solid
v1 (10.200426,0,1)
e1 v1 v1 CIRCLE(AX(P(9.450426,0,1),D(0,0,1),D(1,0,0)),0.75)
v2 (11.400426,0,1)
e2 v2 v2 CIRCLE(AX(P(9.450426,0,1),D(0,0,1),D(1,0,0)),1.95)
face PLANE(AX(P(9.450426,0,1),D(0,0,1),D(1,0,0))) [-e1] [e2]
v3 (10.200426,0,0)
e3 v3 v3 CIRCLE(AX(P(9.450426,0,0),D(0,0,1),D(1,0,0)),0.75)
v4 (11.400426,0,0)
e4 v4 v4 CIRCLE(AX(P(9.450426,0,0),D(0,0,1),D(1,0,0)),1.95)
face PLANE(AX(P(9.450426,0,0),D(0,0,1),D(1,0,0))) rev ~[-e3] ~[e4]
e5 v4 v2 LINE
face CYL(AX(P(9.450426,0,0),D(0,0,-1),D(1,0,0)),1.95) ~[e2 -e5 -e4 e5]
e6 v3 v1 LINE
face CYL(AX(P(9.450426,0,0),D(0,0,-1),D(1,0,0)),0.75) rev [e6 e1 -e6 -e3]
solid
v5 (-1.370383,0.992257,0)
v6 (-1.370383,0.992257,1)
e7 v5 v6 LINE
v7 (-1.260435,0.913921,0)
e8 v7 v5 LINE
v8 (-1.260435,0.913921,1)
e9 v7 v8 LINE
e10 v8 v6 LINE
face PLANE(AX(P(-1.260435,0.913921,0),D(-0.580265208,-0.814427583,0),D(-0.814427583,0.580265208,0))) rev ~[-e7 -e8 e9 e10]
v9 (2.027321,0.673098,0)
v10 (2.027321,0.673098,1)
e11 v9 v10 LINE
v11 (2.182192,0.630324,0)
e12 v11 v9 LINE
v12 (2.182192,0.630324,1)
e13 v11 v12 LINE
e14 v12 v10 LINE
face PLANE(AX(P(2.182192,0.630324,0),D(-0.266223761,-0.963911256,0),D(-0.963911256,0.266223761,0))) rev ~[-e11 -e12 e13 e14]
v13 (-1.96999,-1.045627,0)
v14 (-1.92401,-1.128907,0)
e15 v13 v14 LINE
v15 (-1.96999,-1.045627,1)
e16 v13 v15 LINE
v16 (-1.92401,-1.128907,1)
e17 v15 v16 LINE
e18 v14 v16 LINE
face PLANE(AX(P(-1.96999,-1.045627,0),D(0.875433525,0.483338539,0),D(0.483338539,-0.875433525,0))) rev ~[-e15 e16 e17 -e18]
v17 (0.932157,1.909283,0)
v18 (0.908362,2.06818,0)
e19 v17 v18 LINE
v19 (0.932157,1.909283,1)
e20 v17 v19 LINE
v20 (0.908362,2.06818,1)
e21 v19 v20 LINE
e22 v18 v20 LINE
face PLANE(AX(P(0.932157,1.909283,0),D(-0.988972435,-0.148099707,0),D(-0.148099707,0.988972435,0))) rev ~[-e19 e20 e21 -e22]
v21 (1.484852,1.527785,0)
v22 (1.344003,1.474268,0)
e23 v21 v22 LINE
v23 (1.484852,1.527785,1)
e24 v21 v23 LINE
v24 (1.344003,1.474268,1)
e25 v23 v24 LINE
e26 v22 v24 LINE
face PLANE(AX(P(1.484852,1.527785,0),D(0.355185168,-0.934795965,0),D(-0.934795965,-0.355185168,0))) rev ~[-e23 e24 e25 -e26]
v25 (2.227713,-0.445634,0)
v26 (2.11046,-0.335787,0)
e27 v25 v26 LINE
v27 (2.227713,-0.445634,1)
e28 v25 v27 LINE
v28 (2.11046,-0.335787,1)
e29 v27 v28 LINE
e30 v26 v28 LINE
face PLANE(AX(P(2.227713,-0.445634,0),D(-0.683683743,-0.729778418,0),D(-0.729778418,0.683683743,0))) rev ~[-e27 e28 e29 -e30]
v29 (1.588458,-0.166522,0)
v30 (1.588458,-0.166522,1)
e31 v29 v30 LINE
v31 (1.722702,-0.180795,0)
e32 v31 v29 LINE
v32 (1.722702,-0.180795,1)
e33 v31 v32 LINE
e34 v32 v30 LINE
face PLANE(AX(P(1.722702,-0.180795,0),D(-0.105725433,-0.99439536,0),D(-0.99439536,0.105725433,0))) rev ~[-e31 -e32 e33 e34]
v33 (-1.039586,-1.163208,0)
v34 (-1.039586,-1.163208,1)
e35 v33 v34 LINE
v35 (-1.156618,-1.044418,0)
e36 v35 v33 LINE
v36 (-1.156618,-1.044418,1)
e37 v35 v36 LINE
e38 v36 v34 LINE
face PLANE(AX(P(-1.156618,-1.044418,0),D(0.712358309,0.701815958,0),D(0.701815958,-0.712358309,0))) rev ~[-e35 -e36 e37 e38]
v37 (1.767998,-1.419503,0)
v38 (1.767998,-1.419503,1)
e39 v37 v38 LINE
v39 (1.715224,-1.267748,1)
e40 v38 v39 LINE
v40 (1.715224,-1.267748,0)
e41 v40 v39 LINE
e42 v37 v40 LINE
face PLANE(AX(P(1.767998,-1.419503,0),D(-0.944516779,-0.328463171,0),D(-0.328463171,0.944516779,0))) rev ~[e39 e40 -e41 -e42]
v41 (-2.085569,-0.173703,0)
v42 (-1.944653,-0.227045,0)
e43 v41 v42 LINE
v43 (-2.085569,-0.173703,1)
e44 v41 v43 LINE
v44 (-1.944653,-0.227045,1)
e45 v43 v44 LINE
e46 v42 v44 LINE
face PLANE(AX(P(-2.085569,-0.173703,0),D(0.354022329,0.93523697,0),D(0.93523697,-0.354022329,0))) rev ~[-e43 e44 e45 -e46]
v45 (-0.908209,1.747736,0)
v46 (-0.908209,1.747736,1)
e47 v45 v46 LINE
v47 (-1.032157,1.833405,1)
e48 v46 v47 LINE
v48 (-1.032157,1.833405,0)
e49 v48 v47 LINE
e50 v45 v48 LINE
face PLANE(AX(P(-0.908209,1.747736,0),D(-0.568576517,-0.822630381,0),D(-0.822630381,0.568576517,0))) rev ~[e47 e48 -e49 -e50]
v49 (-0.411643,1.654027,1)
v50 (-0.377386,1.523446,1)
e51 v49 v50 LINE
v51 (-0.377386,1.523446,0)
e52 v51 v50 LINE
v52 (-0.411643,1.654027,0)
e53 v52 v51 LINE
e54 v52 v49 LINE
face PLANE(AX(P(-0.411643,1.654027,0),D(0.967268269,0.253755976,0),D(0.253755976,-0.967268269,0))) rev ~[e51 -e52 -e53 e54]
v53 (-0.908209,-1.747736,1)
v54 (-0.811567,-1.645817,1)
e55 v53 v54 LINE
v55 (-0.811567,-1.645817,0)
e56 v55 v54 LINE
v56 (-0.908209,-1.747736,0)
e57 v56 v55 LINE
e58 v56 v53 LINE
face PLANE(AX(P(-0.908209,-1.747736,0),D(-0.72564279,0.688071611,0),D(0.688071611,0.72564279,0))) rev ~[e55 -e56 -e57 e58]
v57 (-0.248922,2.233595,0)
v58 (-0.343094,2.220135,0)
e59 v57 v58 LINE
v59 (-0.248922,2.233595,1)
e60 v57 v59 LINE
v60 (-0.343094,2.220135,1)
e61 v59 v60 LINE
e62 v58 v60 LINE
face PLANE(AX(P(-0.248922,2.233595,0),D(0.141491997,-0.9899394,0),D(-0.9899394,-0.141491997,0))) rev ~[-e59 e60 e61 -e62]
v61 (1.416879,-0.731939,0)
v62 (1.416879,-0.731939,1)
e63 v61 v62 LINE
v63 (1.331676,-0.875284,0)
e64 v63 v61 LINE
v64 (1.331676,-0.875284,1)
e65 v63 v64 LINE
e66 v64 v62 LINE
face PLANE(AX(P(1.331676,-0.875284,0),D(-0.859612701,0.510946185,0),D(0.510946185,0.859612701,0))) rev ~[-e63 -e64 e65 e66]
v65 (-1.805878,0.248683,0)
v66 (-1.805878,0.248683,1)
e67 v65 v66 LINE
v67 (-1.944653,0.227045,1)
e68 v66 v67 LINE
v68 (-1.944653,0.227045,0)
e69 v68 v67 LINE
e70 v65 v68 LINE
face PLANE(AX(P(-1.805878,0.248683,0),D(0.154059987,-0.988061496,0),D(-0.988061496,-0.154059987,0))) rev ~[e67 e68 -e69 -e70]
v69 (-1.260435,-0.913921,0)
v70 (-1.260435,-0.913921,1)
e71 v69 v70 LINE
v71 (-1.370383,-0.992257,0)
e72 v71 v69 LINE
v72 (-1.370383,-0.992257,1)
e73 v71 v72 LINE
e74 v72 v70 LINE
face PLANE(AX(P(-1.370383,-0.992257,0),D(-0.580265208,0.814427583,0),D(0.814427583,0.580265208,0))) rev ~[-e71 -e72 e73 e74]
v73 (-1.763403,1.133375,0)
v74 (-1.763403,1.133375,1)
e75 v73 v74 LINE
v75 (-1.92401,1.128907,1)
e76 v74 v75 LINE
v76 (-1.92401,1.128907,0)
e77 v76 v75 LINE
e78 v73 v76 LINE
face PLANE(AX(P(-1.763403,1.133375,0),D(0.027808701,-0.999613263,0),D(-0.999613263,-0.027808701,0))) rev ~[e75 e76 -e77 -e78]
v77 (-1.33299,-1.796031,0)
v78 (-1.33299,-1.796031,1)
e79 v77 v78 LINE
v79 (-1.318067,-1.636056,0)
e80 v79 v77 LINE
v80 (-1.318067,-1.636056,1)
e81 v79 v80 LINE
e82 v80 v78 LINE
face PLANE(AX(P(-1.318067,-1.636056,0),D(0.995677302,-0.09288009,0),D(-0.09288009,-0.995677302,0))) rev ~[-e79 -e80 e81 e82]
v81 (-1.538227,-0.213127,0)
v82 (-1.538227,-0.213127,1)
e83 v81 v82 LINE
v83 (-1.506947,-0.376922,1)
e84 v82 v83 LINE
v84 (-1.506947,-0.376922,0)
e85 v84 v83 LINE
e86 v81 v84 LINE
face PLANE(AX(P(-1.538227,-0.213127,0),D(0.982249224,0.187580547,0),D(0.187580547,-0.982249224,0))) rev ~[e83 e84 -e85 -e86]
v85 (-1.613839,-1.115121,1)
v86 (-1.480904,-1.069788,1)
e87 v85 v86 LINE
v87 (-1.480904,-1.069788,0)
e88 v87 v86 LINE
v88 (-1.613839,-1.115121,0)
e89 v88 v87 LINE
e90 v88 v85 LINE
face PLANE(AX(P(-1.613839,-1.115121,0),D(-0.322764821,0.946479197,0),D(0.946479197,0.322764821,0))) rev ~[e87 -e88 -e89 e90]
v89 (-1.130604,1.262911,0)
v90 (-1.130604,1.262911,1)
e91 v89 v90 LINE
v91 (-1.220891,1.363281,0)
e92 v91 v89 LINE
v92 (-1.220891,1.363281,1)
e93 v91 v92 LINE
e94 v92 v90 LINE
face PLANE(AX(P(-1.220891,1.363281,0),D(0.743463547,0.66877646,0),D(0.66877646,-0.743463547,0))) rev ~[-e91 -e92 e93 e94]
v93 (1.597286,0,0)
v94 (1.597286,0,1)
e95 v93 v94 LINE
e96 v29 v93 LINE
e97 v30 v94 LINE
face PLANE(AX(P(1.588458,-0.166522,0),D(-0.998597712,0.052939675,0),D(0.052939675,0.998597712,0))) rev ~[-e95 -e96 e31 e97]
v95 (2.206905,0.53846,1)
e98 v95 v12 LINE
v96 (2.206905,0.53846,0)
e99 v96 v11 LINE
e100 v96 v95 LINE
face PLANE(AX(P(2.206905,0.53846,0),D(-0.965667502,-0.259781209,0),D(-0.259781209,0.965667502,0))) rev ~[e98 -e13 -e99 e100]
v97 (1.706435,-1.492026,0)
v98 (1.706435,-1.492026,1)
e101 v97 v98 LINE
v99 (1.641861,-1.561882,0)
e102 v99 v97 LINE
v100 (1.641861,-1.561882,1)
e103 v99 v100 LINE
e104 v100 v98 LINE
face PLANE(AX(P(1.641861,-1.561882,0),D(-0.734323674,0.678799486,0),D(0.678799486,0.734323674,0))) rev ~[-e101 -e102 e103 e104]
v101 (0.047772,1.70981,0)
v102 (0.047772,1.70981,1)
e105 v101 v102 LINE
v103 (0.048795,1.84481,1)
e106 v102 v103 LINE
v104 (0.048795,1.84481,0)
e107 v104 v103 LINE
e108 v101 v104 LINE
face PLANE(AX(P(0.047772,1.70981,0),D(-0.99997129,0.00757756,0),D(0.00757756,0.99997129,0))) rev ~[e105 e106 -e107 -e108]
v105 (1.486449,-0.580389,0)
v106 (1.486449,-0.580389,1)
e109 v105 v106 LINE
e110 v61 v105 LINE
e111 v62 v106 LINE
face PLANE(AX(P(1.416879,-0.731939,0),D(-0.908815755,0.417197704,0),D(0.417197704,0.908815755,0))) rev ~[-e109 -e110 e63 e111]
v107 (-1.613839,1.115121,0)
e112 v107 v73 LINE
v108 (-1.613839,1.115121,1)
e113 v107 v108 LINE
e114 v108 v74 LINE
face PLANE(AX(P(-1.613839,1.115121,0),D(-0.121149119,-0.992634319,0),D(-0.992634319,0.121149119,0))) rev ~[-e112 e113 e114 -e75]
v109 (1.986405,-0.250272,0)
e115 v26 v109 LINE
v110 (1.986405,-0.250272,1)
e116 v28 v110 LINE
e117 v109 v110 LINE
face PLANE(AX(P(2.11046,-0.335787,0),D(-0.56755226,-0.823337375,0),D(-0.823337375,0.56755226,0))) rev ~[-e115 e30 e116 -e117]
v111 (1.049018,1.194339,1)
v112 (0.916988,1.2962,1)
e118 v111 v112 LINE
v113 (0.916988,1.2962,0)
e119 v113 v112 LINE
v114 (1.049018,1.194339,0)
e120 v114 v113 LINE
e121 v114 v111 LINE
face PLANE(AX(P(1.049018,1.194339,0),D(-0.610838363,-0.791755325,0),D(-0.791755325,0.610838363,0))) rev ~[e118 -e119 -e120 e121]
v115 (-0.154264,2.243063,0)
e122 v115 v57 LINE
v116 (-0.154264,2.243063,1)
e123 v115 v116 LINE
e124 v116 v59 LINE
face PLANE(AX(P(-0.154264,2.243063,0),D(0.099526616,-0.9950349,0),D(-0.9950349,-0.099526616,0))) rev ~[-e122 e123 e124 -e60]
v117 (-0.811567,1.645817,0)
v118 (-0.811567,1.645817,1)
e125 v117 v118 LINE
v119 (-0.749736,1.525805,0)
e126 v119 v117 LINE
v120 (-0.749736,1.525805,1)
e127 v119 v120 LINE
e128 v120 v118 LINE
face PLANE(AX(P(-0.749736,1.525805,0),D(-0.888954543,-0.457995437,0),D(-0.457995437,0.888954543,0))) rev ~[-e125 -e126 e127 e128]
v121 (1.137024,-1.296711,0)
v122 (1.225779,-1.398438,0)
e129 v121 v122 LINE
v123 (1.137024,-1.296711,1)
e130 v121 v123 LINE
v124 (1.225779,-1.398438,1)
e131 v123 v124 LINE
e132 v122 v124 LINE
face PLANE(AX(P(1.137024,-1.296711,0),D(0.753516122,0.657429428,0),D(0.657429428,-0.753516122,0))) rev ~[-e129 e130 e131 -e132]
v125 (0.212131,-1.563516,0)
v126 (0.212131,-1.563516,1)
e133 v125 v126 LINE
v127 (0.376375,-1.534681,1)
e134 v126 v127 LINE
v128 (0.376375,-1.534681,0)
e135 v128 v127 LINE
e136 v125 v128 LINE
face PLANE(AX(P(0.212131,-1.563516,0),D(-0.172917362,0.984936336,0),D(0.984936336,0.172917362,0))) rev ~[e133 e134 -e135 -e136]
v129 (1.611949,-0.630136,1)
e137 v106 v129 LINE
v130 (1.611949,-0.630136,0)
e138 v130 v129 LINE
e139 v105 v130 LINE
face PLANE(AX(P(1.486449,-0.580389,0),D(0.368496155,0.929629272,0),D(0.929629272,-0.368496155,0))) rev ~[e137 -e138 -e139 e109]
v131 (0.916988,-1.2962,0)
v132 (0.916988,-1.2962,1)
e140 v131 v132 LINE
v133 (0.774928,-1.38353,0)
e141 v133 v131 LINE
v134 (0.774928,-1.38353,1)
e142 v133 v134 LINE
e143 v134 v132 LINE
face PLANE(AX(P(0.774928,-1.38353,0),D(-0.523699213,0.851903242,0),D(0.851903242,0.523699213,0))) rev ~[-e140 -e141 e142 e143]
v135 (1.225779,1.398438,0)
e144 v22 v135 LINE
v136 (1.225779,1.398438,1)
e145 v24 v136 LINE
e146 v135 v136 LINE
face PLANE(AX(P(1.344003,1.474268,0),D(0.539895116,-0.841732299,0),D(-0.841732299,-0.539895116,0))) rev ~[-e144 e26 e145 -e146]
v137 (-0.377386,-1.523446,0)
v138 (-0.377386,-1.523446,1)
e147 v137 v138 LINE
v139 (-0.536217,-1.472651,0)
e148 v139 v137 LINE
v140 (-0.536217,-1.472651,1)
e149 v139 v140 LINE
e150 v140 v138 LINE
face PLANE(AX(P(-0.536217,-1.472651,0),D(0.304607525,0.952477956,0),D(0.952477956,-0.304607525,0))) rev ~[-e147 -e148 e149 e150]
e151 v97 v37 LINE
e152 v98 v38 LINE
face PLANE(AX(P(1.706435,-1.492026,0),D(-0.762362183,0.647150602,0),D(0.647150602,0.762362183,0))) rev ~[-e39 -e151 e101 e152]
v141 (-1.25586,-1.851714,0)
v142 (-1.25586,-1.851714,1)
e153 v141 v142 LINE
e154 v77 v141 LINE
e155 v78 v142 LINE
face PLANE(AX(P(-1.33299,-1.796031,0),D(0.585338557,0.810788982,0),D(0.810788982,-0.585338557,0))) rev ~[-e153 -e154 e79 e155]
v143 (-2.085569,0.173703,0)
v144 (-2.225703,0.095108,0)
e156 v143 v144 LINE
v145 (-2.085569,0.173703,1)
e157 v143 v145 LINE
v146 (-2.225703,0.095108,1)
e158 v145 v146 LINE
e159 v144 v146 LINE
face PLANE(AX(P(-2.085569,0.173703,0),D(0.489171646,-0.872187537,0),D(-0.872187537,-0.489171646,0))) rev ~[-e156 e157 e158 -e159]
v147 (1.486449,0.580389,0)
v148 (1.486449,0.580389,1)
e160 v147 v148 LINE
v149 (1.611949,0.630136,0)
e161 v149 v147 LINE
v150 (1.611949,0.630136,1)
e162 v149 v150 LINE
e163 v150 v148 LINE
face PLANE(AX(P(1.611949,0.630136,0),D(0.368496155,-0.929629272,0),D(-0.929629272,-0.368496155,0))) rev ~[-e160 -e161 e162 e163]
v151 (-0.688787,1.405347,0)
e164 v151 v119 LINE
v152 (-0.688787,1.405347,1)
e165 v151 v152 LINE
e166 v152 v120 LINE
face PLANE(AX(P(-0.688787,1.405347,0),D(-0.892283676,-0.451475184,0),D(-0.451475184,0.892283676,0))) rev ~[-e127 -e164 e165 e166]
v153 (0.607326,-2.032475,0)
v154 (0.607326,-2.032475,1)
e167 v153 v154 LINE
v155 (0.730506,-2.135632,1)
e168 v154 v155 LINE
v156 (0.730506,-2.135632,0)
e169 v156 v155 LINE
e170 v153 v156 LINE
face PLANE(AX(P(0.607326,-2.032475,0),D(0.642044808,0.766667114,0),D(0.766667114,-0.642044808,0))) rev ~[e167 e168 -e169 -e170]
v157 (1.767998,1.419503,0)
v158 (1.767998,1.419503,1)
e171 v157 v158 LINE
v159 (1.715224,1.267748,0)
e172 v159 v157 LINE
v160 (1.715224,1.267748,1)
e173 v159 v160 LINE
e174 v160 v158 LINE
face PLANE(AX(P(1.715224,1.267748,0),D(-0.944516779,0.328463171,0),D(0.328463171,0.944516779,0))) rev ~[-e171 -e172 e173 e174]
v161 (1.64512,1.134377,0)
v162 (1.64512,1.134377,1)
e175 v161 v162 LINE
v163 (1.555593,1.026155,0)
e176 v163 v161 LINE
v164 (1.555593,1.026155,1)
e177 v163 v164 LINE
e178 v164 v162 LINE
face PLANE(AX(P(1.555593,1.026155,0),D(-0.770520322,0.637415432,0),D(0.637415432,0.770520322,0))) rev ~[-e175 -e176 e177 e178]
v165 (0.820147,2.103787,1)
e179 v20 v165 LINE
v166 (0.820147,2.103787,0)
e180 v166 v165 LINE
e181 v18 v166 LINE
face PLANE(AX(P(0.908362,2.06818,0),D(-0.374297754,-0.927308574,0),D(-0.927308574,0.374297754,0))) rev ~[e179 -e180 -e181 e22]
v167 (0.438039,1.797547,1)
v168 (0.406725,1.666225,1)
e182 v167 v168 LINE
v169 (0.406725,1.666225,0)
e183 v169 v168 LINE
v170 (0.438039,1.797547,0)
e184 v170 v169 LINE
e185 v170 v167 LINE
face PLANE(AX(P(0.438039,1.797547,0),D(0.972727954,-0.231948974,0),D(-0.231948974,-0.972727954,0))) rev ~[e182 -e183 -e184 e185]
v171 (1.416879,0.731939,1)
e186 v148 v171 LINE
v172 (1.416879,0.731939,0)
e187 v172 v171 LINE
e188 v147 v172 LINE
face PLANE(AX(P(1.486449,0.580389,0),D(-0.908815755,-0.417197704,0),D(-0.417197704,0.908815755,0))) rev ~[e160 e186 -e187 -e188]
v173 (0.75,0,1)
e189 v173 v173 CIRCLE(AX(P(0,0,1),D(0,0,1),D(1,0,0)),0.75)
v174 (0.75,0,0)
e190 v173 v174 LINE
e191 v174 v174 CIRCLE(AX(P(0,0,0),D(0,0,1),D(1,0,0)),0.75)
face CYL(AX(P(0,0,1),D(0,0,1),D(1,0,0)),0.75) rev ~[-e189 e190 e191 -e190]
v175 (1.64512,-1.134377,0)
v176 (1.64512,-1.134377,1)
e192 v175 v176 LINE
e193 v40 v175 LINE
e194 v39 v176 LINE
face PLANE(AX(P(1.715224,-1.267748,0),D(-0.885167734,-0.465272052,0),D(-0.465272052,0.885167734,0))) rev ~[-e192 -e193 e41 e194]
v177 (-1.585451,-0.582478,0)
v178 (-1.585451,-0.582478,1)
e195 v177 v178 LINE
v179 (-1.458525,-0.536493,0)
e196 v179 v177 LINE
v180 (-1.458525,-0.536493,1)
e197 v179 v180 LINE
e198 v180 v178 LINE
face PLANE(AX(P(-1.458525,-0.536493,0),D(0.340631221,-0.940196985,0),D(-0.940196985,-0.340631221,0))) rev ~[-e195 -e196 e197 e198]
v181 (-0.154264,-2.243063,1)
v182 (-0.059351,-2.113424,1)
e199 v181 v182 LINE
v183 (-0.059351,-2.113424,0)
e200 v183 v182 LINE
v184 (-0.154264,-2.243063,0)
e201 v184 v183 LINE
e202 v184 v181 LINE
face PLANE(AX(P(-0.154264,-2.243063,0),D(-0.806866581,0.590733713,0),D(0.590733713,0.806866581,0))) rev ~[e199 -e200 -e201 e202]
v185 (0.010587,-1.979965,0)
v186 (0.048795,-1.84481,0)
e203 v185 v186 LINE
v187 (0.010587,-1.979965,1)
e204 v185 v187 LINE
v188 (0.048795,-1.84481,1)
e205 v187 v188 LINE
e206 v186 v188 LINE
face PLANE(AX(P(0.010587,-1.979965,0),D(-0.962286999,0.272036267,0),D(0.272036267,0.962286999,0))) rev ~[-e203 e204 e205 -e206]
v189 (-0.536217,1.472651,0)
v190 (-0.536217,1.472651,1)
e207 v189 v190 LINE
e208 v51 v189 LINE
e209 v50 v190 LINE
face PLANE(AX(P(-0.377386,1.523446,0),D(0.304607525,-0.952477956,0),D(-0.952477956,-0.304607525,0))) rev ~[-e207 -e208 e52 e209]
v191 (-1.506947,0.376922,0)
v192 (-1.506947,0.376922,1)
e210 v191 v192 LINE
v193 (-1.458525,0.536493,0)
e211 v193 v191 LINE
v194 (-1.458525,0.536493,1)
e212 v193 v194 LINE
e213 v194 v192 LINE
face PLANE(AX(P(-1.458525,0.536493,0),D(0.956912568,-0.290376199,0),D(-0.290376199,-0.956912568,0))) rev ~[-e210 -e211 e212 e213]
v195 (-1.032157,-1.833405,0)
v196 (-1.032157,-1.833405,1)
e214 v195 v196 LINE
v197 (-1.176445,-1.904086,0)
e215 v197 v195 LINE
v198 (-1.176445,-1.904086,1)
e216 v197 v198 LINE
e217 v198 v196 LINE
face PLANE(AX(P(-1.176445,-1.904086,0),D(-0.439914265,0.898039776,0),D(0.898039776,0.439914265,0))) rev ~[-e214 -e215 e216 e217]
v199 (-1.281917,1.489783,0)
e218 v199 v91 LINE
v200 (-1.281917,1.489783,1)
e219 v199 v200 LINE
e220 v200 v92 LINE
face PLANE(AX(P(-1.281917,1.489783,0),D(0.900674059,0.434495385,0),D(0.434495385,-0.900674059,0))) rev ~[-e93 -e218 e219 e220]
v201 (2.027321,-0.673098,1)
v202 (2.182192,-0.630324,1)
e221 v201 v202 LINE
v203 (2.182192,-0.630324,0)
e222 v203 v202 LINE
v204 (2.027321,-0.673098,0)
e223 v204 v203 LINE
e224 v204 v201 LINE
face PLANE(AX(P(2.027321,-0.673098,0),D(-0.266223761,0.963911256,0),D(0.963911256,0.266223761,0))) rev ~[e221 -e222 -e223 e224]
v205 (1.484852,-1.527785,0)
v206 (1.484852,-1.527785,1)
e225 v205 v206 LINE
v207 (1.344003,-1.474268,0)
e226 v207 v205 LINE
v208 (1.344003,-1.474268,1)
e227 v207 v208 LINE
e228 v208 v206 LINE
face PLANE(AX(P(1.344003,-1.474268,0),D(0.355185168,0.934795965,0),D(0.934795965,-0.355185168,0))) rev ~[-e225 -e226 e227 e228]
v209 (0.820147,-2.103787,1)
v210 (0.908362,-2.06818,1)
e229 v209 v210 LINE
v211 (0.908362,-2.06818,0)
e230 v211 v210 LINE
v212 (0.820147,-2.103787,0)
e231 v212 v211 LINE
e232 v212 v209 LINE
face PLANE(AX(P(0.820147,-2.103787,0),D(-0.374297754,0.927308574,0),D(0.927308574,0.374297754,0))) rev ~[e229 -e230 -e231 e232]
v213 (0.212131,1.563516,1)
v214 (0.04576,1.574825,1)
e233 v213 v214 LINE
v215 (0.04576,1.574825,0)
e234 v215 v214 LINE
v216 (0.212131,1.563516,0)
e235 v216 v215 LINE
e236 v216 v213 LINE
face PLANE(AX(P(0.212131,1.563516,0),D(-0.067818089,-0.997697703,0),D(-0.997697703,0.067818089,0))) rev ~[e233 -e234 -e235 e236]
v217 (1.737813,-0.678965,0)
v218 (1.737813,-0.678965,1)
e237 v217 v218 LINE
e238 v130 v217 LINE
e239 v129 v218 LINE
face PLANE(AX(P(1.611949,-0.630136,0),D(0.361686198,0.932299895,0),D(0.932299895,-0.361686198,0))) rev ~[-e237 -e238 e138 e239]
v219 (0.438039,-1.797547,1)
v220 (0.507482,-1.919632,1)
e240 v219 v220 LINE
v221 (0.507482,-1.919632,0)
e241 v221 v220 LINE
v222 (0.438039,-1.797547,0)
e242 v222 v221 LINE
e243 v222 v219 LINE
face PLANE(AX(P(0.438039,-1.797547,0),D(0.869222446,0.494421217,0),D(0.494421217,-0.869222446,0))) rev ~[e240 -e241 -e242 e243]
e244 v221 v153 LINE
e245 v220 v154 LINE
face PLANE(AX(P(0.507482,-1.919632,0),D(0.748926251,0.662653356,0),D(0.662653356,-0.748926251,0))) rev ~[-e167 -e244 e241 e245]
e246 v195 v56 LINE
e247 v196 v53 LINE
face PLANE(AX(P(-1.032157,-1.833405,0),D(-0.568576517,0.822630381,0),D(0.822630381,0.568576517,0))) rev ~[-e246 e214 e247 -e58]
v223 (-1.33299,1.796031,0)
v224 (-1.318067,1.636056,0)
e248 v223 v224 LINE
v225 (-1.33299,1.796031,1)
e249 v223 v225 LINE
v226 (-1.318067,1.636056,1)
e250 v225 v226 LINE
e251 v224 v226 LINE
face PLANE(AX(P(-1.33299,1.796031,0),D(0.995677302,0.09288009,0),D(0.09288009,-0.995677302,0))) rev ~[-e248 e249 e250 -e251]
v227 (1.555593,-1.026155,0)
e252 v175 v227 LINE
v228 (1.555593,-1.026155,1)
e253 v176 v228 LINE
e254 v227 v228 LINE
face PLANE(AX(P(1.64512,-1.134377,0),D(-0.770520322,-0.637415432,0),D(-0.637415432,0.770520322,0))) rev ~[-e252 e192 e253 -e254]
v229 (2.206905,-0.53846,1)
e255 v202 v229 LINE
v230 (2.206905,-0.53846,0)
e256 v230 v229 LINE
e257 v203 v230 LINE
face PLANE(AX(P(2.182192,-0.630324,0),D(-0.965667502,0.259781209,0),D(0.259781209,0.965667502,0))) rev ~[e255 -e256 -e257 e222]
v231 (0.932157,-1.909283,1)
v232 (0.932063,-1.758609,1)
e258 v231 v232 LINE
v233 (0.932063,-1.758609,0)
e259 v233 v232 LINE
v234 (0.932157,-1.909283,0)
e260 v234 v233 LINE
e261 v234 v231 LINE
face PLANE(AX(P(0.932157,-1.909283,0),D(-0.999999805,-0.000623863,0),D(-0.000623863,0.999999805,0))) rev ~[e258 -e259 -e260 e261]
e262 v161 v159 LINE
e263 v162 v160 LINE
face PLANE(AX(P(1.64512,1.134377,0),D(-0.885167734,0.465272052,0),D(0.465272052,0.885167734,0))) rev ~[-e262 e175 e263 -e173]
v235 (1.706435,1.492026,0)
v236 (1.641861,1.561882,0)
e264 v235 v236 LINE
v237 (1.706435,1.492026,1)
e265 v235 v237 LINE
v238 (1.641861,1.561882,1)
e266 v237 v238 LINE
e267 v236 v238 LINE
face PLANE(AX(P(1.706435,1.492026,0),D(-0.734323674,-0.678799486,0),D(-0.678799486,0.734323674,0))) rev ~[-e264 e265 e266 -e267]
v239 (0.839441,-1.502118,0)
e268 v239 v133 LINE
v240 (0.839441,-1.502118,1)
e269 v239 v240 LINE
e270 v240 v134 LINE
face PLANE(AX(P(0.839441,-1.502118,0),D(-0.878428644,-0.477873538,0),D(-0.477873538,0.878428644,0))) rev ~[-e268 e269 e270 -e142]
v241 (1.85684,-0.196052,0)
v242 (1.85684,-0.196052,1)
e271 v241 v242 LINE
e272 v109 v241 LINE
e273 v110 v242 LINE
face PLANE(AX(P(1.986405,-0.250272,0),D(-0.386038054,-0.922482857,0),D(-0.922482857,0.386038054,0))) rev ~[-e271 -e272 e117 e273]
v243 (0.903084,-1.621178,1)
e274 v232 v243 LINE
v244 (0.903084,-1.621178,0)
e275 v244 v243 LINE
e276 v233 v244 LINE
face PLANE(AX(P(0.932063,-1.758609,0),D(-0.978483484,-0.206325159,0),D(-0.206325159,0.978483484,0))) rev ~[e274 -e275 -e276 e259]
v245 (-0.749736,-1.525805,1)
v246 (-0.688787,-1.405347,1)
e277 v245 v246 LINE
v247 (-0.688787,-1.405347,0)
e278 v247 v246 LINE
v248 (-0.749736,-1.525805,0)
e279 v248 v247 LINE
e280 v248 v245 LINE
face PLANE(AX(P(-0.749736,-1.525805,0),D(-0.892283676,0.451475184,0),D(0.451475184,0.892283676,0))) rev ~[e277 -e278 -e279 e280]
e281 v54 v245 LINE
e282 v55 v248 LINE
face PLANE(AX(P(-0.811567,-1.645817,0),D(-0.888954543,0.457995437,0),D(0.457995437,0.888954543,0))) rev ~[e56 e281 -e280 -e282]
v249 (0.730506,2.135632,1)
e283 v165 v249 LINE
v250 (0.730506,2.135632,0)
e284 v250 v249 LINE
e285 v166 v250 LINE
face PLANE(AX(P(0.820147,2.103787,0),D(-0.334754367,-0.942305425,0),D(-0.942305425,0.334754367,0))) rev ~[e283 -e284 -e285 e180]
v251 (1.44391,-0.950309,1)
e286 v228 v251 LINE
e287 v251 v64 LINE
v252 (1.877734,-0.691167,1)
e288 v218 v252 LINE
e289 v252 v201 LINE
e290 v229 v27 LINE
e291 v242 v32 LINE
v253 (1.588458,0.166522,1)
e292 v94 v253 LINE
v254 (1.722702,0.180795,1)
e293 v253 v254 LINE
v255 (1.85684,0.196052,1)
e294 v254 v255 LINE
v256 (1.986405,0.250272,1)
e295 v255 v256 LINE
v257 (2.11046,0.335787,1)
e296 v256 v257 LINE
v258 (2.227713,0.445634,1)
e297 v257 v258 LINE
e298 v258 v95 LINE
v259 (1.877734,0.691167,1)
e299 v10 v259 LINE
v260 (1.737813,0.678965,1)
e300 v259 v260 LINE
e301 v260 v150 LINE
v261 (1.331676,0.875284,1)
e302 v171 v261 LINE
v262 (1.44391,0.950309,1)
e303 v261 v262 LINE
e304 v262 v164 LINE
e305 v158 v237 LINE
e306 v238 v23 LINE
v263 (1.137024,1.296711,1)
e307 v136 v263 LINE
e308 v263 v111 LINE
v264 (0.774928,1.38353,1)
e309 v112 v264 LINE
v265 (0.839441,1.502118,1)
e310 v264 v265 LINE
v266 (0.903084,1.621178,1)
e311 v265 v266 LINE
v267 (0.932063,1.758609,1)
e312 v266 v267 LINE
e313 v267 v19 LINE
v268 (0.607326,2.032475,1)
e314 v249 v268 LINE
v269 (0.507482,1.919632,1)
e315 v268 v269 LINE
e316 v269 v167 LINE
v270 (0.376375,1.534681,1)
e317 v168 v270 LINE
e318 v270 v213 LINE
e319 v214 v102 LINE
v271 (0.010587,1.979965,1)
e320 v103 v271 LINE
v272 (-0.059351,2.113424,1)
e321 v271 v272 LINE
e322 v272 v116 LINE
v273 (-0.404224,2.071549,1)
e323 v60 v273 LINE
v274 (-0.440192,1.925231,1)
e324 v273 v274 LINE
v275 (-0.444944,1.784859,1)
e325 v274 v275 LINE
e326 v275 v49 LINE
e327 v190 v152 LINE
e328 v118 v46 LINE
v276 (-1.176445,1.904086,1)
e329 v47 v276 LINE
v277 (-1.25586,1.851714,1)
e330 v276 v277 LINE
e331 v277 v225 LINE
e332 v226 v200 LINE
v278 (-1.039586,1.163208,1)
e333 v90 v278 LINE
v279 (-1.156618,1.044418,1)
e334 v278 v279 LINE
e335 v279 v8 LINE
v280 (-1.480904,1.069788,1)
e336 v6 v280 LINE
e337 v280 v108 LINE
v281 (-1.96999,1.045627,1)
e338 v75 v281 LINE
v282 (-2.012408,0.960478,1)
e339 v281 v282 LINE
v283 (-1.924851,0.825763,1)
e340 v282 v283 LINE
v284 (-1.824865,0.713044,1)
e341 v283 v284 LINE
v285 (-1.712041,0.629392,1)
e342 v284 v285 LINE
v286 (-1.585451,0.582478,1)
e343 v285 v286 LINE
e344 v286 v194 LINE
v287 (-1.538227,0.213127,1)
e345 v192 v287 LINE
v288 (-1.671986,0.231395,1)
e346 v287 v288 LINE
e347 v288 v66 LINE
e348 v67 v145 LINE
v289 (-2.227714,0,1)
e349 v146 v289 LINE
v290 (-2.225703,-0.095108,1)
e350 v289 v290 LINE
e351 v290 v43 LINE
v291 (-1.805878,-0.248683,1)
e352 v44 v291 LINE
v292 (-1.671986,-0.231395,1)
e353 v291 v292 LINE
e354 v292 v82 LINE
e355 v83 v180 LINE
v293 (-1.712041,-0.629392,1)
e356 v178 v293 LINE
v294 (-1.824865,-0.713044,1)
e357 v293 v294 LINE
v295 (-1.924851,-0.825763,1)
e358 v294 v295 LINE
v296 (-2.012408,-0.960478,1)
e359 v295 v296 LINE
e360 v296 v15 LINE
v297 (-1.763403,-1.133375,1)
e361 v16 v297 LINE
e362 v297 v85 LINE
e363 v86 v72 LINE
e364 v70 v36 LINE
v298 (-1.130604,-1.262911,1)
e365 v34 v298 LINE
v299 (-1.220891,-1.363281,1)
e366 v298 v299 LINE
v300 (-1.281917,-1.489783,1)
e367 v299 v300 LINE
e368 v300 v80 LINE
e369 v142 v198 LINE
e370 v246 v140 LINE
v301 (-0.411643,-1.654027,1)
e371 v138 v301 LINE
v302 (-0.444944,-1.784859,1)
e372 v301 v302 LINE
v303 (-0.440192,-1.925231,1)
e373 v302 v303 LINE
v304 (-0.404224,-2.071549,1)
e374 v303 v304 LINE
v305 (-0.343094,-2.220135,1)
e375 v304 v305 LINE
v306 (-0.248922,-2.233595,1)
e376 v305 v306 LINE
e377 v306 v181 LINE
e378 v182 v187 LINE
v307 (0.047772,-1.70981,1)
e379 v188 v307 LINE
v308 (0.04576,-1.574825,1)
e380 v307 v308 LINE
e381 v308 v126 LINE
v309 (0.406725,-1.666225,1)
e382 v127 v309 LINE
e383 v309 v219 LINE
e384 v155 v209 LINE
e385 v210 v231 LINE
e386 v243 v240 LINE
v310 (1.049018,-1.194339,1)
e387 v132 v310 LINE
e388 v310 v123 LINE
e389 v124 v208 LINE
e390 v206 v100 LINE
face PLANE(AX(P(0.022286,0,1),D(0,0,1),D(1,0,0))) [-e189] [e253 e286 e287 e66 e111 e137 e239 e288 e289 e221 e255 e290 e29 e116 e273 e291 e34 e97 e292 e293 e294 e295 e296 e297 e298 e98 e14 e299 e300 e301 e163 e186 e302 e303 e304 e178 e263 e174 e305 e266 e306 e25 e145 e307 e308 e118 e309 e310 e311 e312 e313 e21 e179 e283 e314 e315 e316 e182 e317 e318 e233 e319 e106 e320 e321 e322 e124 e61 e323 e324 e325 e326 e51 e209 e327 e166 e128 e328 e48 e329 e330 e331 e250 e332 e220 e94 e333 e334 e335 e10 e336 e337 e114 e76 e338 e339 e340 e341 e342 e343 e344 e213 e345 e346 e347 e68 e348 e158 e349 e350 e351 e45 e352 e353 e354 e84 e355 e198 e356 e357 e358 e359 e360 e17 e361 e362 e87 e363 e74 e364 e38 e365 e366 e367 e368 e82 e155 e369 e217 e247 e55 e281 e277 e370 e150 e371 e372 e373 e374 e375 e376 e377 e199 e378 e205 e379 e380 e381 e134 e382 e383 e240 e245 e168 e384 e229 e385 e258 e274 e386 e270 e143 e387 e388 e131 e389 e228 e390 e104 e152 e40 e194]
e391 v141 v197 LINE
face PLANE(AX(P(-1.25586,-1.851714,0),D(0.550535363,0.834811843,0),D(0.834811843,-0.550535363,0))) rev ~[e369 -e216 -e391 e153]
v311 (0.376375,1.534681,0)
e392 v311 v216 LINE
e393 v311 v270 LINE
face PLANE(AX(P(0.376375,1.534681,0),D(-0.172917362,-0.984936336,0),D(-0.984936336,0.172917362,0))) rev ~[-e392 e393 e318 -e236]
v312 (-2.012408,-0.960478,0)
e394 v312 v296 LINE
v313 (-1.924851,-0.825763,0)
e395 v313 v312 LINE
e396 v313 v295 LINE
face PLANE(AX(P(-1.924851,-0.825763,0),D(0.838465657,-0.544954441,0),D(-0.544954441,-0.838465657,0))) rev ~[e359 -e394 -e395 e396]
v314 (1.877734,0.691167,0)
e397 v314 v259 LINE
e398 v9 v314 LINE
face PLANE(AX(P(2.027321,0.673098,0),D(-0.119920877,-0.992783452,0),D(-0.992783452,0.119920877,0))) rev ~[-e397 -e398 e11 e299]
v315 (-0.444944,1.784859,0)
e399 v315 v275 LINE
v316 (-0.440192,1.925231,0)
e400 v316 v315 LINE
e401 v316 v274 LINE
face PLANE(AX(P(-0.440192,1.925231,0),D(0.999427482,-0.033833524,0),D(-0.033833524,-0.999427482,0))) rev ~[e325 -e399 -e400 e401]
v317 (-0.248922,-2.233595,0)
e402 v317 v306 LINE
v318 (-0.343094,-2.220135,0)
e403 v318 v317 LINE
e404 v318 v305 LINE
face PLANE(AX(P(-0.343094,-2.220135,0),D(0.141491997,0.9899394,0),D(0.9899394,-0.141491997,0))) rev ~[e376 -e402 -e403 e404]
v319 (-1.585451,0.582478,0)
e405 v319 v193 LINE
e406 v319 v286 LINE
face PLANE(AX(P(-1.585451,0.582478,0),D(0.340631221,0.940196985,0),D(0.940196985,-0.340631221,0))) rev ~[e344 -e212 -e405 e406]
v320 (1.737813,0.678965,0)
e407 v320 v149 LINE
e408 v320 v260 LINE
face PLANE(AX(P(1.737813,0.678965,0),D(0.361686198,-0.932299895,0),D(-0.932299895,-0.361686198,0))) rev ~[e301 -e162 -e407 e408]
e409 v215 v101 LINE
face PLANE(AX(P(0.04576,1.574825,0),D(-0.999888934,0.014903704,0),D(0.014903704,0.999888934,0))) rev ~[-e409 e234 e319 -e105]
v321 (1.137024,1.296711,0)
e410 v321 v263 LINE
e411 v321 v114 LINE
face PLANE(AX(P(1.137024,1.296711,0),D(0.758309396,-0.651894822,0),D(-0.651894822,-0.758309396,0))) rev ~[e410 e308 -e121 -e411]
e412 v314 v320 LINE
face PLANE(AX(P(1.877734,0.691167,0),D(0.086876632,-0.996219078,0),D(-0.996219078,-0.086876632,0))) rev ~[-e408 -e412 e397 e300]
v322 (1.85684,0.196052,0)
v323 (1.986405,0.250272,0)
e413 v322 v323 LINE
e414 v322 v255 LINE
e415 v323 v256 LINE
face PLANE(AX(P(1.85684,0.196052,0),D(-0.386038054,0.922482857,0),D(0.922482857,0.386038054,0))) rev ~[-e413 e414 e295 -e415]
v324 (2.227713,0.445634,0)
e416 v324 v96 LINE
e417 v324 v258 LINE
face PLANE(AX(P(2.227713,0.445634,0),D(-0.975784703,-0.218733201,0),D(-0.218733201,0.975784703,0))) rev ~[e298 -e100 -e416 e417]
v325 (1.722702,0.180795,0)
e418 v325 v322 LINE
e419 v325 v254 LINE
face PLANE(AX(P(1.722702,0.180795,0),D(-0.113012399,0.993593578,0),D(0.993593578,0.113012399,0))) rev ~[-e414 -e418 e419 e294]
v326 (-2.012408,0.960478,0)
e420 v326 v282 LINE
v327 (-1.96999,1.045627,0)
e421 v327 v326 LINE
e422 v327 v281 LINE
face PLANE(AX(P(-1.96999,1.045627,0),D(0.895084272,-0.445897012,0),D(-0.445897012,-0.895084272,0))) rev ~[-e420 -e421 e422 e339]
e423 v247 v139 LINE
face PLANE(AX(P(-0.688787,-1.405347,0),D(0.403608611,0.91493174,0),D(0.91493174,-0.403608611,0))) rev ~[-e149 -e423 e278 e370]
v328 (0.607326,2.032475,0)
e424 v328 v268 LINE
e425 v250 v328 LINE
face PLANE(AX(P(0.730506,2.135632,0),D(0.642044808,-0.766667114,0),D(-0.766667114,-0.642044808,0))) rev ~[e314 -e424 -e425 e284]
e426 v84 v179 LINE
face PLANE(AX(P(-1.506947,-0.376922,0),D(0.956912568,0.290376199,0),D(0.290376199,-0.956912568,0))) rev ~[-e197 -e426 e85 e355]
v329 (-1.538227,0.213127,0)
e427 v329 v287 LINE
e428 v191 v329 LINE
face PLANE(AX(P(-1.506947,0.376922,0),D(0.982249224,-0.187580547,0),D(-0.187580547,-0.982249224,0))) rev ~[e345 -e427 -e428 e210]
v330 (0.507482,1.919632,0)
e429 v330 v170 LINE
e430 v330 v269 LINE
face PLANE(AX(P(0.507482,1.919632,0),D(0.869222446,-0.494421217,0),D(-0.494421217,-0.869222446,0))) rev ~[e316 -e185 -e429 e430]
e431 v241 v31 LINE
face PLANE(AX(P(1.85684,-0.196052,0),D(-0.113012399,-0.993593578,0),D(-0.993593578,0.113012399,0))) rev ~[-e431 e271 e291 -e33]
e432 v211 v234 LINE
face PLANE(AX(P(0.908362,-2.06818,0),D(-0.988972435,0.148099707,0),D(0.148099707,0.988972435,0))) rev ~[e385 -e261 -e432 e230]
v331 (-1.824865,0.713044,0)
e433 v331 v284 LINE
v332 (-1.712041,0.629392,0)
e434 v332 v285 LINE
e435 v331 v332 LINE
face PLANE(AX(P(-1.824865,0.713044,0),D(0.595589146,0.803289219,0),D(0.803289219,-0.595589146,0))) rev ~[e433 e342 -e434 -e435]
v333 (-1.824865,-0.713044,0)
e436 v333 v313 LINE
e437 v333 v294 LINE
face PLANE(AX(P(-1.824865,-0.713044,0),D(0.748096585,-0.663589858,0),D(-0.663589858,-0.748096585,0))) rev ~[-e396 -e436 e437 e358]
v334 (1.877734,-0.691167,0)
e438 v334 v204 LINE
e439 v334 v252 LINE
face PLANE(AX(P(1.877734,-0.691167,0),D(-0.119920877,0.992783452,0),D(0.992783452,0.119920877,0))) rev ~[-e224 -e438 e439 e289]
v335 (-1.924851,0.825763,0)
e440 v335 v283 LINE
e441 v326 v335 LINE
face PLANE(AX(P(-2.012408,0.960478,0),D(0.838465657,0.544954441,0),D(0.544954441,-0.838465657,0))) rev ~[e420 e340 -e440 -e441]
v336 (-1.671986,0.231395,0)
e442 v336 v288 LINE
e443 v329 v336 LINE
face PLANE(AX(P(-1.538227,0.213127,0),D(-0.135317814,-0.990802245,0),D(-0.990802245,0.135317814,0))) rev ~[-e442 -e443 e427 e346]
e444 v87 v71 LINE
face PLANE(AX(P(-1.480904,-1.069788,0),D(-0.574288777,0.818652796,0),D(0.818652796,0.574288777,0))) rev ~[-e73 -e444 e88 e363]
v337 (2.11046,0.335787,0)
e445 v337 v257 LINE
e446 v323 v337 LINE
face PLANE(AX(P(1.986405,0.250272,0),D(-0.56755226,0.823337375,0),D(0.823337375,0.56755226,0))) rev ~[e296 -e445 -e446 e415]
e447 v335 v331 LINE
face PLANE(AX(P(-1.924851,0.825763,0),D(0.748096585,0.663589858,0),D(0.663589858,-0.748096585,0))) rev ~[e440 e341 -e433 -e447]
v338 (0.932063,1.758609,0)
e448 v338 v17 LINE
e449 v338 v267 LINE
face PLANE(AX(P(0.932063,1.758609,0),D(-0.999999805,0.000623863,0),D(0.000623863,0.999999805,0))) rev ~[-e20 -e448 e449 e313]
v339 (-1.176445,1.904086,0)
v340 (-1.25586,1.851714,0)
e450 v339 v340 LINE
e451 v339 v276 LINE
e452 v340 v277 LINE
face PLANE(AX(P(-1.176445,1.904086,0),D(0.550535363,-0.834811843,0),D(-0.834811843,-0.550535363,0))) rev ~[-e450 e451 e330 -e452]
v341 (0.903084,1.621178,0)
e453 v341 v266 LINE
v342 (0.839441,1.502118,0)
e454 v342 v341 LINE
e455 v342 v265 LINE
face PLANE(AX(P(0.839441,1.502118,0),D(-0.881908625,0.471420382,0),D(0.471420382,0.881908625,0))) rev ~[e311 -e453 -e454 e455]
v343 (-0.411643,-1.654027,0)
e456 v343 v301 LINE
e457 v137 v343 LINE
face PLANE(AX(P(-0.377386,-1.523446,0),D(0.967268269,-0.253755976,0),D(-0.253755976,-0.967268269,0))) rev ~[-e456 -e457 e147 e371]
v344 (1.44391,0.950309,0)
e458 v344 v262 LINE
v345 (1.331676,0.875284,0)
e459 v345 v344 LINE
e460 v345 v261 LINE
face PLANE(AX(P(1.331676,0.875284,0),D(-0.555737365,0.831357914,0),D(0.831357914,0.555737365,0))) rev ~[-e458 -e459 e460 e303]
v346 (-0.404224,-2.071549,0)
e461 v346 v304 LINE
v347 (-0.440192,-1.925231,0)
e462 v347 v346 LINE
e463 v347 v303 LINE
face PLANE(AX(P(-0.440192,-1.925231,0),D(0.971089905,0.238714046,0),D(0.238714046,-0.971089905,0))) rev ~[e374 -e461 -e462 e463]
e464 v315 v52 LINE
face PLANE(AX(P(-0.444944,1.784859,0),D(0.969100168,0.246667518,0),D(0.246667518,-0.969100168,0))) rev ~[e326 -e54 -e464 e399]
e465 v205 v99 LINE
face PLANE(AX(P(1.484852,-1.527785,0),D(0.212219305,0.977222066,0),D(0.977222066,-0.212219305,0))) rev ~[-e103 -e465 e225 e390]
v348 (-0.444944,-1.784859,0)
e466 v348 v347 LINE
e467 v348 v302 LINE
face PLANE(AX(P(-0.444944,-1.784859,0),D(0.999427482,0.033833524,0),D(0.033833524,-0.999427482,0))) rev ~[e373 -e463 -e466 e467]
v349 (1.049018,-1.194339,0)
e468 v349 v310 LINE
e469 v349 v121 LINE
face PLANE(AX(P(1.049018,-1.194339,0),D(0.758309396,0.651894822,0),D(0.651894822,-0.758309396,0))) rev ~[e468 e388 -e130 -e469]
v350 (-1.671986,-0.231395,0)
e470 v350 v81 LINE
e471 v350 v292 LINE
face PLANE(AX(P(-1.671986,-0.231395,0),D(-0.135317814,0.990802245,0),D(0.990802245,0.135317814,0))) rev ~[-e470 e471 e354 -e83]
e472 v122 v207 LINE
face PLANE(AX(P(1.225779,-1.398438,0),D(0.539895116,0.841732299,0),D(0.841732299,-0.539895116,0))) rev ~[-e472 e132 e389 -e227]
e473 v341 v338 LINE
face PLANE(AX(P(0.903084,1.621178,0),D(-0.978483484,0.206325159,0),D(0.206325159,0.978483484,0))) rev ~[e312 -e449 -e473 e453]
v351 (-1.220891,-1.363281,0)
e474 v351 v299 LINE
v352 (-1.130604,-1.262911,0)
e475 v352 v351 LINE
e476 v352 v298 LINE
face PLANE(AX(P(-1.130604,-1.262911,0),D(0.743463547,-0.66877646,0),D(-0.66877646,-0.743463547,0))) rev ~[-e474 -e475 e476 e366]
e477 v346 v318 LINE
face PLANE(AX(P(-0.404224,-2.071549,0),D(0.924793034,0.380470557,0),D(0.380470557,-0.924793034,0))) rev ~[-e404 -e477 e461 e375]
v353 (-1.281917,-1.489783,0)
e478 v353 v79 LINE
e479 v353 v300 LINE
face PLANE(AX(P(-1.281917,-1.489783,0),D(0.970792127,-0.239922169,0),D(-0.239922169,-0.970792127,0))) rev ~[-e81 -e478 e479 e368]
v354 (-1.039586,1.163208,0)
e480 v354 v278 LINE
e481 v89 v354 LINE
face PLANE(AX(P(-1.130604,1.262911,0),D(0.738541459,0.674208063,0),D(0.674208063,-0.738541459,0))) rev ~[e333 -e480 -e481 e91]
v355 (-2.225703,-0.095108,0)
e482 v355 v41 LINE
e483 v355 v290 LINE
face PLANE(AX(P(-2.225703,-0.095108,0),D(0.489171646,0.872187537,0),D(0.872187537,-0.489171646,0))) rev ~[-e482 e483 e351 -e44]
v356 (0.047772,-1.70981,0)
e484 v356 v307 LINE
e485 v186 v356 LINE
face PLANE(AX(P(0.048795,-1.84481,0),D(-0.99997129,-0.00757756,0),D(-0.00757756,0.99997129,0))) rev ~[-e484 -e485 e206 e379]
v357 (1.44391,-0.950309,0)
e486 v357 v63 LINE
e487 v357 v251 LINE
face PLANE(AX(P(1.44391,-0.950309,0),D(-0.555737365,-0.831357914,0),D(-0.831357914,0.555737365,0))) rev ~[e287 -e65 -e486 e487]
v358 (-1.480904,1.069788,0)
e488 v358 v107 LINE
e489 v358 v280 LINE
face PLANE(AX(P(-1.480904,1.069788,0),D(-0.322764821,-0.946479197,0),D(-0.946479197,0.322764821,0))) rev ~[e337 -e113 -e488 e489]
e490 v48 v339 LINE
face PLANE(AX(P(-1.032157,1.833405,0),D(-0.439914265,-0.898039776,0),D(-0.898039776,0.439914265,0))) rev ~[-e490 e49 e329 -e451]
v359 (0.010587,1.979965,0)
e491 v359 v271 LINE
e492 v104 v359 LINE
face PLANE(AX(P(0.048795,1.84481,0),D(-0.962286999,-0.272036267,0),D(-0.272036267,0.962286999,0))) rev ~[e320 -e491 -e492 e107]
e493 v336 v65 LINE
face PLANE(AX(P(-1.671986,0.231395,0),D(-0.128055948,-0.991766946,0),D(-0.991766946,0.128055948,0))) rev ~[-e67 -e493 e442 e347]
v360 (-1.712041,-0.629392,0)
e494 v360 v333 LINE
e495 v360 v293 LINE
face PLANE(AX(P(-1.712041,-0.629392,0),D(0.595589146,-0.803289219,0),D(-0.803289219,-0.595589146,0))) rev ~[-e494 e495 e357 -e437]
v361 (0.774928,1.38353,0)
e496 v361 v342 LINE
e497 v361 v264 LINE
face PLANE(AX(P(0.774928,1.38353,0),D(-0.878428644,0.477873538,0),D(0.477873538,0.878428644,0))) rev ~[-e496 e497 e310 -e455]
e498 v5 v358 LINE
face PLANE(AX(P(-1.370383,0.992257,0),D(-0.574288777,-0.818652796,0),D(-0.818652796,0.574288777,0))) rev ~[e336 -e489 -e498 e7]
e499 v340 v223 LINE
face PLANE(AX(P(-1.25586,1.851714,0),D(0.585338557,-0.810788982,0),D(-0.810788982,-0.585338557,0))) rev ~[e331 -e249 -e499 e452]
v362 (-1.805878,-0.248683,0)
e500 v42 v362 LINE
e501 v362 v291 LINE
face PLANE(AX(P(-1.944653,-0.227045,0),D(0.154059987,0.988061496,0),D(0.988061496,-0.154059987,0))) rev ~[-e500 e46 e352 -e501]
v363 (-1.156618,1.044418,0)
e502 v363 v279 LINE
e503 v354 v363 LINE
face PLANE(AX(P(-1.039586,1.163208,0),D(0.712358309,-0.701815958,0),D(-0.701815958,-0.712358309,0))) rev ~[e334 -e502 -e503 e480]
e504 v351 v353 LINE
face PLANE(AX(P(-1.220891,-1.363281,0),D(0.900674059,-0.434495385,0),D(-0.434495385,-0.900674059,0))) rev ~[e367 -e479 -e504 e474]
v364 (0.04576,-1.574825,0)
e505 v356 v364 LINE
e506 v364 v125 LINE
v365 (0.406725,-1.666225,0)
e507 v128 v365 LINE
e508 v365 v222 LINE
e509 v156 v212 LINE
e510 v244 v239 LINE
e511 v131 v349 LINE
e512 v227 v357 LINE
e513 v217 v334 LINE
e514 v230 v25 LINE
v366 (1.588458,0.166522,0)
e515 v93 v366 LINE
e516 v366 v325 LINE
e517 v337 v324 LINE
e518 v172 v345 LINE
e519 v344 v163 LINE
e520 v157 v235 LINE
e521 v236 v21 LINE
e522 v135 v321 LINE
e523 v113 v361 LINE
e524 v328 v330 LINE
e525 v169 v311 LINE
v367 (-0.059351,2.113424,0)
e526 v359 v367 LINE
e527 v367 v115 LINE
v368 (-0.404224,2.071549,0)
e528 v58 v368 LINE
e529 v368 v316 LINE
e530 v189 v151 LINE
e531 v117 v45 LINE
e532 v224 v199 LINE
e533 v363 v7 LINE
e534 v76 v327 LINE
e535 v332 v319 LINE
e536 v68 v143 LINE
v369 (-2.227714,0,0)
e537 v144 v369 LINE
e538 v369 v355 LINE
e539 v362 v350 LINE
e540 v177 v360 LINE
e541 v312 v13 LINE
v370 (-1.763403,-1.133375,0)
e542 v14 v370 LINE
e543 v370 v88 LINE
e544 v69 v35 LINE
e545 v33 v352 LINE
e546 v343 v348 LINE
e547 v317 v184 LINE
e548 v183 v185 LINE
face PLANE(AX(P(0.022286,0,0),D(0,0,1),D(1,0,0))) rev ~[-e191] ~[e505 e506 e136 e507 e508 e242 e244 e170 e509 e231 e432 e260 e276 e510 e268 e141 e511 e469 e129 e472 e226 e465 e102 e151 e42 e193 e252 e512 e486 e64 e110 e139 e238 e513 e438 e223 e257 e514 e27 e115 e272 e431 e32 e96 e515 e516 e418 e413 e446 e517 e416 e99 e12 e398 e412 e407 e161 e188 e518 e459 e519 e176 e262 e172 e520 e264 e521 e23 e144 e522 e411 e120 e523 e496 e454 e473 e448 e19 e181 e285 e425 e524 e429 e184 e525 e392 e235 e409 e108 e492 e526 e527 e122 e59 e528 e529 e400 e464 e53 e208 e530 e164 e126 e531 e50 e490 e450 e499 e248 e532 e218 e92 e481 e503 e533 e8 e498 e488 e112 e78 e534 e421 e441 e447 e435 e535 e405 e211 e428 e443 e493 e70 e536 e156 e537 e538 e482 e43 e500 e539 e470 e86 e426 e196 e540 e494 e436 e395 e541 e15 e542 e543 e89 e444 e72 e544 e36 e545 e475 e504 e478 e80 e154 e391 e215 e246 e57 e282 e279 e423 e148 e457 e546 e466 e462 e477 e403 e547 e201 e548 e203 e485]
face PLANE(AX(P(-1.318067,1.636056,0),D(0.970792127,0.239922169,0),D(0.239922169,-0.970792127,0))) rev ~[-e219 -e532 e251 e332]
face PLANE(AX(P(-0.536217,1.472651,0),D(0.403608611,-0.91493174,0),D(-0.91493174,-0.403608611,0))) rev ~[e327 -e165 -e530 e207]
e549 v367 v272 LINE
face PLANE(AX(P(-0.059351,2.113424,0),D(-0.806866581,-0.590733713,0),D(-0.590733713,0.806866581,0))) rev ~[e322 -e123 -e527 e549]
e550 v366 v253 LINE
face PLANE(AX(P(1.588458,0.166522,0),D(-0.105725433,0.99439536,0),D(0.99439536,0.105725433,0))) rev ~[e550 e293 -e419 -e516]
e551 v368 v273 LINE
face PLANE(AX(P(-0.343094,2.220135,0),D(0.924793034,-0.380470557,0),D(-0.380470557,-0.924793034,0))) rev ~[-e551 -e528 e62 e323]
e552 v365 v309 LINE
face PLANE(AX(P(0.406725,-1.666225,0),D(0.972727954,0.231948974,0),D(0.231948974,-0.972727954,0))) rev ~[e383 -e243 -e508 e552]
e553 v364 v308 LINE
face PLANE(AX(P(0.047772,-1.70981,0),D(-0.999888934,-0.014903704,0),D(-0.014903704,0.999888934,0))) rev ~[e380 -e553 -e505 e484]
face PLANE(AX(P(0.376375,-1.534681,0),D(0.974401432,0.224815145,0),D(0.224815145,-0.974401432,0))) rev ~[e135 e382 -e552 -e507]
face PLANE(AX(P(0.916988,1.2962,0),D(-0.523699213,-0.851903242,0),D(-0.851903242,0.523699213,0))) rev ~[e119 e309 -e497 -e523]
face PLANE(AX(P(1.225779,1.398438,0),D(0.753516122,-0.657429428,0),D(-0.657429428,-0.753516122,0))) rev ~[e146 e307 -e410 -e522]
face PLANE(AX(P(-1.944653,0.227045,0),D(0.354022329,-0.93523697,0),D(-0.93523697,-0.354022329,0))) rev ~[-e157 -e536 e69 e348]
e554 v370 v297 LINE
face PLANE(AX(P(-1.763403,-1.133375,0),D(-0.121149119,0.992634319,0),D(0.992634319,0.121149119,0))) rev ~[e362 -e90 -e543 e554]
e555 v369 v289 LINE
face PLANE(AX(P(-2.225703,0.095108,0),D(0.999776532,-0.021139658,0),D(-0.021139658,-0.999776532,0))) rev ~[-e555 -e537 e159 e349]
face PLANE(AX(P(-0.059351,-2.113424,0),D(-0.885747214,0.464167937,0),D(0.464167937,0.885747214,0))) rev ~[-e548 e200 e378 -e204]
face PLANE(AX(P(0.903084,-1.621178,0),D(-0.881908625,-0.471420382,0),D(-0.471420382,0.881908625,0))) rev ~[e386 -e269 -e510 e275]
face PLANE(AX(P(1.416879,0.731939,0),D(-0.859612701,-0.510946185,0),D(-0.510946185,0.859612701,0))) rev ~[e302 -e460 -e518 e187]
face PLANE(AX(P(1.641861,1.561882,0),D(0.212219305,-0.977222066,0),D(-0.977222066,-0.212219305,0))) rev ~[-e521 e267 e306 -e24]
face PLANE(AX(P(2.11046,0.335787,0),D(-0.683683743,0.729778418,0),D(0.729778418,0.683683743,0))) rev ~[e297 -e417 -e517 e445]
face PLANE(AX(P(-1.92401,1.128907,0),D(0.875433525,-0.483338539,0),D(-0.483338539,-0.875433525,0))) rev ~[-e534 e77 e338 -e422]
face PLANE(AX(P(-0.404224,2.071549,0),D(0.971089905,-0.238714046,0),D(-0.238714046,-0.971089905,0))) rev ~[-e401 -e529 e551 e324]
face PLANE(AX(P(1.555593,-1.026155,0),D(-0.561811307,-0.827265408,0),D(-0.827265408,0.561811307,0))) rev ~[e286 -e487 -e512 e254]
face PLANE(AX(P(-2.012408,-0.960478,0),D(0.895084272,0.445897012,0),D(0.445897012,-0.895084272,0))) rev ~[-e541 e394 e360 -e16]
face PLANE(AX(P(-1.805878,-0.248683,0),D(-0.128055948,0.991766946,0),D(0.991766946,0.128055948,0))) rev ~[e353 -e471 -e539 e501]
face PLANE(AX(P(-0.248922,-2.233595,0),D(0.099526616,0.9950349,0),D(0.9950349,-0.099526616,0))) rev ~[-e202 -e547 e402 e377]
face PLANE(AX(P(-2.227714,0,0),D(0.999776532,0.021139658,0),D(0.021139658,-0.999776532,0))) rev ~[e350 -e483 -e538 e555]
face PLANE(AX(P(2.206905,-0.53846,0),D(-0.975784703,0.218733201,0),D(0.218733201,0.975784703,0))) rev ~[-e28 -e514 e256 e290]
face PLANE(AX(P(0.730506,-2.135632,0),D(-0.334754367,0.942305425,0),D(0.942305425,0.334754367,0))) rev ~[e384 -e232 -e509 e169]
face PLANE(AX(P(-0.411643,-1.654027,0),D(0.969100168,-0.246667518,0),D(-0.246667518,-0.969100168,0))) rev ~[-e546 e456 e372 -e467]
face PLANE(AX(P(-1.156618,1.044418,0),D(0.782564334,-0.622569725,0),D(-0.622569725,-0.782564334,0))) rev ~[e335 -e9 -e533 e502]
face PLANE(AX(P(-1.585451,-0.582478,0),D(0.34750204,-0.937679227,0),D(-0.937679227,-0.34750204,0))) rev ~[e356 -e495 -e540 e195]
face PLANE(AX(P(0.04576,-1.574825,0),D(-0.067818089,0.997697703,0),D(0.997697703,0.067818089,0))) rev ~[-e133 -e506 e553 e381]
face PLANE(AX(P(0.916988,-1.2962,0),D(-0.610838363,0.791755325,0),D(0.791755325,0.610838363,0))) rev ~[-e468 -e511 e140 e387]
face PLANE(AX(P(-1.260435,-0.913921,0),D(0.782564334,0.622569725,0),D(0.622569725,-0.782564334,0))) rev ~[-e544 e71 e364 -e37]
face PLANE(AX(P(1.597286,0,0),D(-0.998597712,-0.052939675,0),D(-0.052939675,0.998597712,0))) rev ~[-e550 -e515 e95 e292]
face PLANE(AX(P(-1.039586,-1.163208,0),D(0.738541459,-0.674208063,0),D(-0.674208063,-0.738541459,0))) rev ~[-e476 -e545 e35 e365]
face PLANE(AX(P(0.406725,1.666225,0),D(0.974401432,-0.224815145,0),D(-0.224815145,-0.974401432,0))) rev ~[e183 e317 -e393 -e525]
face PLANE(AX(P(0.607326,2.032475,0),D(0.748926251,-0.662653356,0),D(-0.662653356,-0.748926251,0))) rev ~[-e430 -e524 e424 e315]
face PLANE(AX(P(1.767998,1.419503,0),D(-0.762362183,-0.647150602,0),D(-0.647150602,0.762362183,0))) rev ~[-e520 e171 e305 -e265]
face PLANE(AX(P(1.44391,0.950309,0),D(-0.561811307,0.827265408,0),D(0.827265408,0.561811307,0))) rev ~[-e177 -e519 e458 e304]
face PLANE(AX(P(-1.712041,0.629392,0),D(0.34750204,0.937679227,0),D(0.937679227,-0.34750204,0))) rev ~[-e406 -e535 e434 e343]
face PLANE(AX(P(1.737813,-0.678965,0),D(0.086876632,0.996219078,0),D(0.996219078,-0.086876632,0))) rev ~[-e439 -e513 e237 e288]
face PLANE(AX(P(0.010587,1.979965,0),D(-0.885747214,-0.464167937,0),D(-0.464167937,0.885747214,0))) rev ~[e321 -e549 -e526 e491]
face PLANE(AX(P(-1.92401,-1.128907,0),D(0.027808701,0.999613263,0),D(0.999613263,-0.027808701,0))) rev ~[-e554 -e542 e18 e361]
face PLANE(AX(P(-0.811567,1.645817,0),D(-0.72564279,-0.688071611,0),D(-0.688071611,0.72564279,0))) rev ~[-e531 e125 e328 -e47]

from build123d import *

# Parameters (mm, degrees)
F1_DEPTH = 1
F2_R     = 0.75
F3_DEPTH = 25
F4_R     = 1.95
F4_R_2   = 0.75
F5_DEPTH = 1


with BuildPart() as f1:
    # F0 (on Top) → F1 (new body)
    with BuildSketch(Plane.XY):
        Polygon((1.588458, -0.166522), (1.597286, 0), (1.588458, 0.166522), (1.722702, 0.180795), (1.85684, 0.196052), (1.986405, 0.250272), (2.11046, 0.335787), (2.227713, 0.445634), (2.206905, 0.53846), (2.182192, 0.630324), (2.027321, 0.673098), (1.877734, 0.691167), (1.737813, 0.678965), (1.611949, 0.630136), (1.486449, 0.580389), (1.416879, 0.731939), (1.331676, 0.875284), (1.44391, 0.950309), (1.555593, 1.026155), (1.64512, 1.134377), (1.715224, 1.267748), (1.767998, 1.419503), (1.706435, 1.492026), (1.641861, 1.561882), (1.484852, 1.527785), (1.344003, 1.474268), (1.225779, 1.398438), (1.137024, 1.296711), (1.049018, 1.194339), (0.916988, 1.2962), (0.774928, 1.38353), (0.839441, 1.502118), (0.903084, 1.621178), (0.932063, 1.758609), (0.932157, 1.909283), (0.908362, 2.06818), (0.820147, 2.103787), (0.730506, 2.135632), (0.607326, 2.032475), (0.507482, 1.919632), (0.438039, 1.797547), (0.406725, 1.666225), (0.376375, 1.534681), (0.212131, 1.563516), (0.04576, 1.574825), (0.047772, 1.70981), (0.048795, 1.84481), (0.010587, 1.979965), (-0.059351, 2.113424), (-0.154264, 2.243063), (-0.248922, 2.233595), (-0.343094, 2.220135), (-0.404224, 2.071549), (-0.440192, 1.925231), (-0.444944, 1.784859), (-0.411643, 1.654027), (-0.377386, 1.523446), (-0.536217, 1.472651), (-0.688787, 1.405347), (-0.749736, 1.525805), (-0.811567, 1.645817), (-0.908209, 1.747736), (-1.032157, 1.833405), (-1.176445, 1.904086), (-1.25586, 1.851714), (-1.33299, 1.796031), (-1.318067, 1.636056), (-1.281917, 1.489783), (-1.220891, 1.363281), (-1.130604, 1.262911), (-1.039586, 1.163208), (-1.156618, 1.044418), (-1.260435, 0.913921), (-1.370383, 0.992257), (-1.480904, 1.069788), (-1.613839, 1.115121), (-1.763403, 1.133375), (-1.92401, 1.128907), (-1.96999, 1.045627), (-2.012408, 0.960478), (-1.924851, 0.825763), (-1.824865, 0.713044), (-1.712041, 0.629392), (-1.585451, 0.582478), (-1.458525, 0.536493), (-1.506947, 0.376922), (-1.538227, 0.213127), (-1.671986, 0.231395), (-1.805878, 0.248683), (-1.944653, 0.227045), (-2.085569, 0.173703), (-2.225703, 0.095108), (-2.227714, 0), (-2.225703, -0.095108), (-2.085569, -0.173703), (-1.944653, -0.227045), (-1.805878, -0.248683), (-1.671986, -0.231395), (-1.538227, -0.213127), (-1.506947, -0.376922), (-1.458525, -0.536493), (-1.585451, -0.582478), (-1.712041, -0.629392), (-1.824865, -0.713044), (-1.924851, -0.825763), (-2.012408, -0.960478), (-1.96999, -1.045627), (-1.92401, -1.128907), (-1.763403, -1.133375), (-1.613839, -1.115121), (-1.480904, -1.069788), (-1.370383, -0.992257), (-1.260435, -0.913921), (-1.156618, -1.044418), (-1.039586, -1.163208), (-1.130604, -1.262911), (-1.220891, -1.363281), (-1.281917, -1.489783), (-1.318067, -1.636056), (-1.33299, -1.796031), (-1.25586, -1.851714), (-1.176445, -1.904086), (-1.032157, -1.833405), (-0.908209, -1.747736), (-0.811567, -1.645817), (-0.749736, -1.525805), (-0.688787, -1.405347), (-0.536217, -1.472651), (-0.377386, -1.523446), (-0.411643, -1.654027), (-0.444944, -1.784859), (-0.440192, -1.925231), (-0.404224, -2.071549), (-0.343094, -2.220135), (-0.248922, -2.233595), (-0.154264, -2.243063), (-0.059351, -2.113424), (0.010587, -1.979965), (0.048795, -1.84481), (0.047772, -1.70981), (0.04576, -1.574825), (0.212131, -1.563516), (0.376375, -1.534681), (0.406725, -1.666225), (0.438039, -1.797547), (0.507482, -1.919632), (0.607326, -2.032475), (0.730506, -2.135632), (0.820147, -2.103787), (0.908362, -2.06818), (0.932157, -1.909283), (0.932063, -1.758609), (0.903084, -1.621178), (0.839441, -1.502118), (0.774928, -1.38353), (0.916988, -1.2962), (1.049018, -1.194339), (1.137024, -1.296711), (1.225779, -1.398438), (1.344003, -1.474268), (1.484852, -1.527785), (1.641861, -1.561882), (1.706435, -1.492026), (1.767998, -1.419503), (1.715224, -1.267748), (1.64512, -1.134377), (1.555593, -1.026155), (1.44391, -0.950309), (1.331676, -0.875284), (1.416879, -0.731939), (1.486449, -0.580389), (1.611949, -0.630136), (1.737813, -0.678965), (1.877734, -0.691167), (2.027321, -0.673098), (2.182192, -0.630324), (2.206905, -0.53846), (2.227713, -0.445634), (2.11046, -0.335787), (1.986405, -0.250272), (1.85684, -0.196052), (1.722702, -0.180795), align=None)
    extrude(amount=F1_DEPTH)

    # F2 (on face) → F3 (cut)
    with BuildSketch(Plane.XY.offset(1)):
        Circle(F2_R)
    extrude(amount=-F3_DEPTH, mode=Mode.SUBTRACT)


with BuildPart() as f5:
    # F4 (on Top) → F5 (new body)
    with BuildSketch(Plane.XY):
        with Locations((9.450426, 0)):
            Circle(F4_R)
        with Locations((9.450426, 0)):
            Circle(F4_R_2, mode=Mode.SUBTRACT)
    extrude(amount=F5_DEPTH)


solid = Compound([f1.part, f5.part])
